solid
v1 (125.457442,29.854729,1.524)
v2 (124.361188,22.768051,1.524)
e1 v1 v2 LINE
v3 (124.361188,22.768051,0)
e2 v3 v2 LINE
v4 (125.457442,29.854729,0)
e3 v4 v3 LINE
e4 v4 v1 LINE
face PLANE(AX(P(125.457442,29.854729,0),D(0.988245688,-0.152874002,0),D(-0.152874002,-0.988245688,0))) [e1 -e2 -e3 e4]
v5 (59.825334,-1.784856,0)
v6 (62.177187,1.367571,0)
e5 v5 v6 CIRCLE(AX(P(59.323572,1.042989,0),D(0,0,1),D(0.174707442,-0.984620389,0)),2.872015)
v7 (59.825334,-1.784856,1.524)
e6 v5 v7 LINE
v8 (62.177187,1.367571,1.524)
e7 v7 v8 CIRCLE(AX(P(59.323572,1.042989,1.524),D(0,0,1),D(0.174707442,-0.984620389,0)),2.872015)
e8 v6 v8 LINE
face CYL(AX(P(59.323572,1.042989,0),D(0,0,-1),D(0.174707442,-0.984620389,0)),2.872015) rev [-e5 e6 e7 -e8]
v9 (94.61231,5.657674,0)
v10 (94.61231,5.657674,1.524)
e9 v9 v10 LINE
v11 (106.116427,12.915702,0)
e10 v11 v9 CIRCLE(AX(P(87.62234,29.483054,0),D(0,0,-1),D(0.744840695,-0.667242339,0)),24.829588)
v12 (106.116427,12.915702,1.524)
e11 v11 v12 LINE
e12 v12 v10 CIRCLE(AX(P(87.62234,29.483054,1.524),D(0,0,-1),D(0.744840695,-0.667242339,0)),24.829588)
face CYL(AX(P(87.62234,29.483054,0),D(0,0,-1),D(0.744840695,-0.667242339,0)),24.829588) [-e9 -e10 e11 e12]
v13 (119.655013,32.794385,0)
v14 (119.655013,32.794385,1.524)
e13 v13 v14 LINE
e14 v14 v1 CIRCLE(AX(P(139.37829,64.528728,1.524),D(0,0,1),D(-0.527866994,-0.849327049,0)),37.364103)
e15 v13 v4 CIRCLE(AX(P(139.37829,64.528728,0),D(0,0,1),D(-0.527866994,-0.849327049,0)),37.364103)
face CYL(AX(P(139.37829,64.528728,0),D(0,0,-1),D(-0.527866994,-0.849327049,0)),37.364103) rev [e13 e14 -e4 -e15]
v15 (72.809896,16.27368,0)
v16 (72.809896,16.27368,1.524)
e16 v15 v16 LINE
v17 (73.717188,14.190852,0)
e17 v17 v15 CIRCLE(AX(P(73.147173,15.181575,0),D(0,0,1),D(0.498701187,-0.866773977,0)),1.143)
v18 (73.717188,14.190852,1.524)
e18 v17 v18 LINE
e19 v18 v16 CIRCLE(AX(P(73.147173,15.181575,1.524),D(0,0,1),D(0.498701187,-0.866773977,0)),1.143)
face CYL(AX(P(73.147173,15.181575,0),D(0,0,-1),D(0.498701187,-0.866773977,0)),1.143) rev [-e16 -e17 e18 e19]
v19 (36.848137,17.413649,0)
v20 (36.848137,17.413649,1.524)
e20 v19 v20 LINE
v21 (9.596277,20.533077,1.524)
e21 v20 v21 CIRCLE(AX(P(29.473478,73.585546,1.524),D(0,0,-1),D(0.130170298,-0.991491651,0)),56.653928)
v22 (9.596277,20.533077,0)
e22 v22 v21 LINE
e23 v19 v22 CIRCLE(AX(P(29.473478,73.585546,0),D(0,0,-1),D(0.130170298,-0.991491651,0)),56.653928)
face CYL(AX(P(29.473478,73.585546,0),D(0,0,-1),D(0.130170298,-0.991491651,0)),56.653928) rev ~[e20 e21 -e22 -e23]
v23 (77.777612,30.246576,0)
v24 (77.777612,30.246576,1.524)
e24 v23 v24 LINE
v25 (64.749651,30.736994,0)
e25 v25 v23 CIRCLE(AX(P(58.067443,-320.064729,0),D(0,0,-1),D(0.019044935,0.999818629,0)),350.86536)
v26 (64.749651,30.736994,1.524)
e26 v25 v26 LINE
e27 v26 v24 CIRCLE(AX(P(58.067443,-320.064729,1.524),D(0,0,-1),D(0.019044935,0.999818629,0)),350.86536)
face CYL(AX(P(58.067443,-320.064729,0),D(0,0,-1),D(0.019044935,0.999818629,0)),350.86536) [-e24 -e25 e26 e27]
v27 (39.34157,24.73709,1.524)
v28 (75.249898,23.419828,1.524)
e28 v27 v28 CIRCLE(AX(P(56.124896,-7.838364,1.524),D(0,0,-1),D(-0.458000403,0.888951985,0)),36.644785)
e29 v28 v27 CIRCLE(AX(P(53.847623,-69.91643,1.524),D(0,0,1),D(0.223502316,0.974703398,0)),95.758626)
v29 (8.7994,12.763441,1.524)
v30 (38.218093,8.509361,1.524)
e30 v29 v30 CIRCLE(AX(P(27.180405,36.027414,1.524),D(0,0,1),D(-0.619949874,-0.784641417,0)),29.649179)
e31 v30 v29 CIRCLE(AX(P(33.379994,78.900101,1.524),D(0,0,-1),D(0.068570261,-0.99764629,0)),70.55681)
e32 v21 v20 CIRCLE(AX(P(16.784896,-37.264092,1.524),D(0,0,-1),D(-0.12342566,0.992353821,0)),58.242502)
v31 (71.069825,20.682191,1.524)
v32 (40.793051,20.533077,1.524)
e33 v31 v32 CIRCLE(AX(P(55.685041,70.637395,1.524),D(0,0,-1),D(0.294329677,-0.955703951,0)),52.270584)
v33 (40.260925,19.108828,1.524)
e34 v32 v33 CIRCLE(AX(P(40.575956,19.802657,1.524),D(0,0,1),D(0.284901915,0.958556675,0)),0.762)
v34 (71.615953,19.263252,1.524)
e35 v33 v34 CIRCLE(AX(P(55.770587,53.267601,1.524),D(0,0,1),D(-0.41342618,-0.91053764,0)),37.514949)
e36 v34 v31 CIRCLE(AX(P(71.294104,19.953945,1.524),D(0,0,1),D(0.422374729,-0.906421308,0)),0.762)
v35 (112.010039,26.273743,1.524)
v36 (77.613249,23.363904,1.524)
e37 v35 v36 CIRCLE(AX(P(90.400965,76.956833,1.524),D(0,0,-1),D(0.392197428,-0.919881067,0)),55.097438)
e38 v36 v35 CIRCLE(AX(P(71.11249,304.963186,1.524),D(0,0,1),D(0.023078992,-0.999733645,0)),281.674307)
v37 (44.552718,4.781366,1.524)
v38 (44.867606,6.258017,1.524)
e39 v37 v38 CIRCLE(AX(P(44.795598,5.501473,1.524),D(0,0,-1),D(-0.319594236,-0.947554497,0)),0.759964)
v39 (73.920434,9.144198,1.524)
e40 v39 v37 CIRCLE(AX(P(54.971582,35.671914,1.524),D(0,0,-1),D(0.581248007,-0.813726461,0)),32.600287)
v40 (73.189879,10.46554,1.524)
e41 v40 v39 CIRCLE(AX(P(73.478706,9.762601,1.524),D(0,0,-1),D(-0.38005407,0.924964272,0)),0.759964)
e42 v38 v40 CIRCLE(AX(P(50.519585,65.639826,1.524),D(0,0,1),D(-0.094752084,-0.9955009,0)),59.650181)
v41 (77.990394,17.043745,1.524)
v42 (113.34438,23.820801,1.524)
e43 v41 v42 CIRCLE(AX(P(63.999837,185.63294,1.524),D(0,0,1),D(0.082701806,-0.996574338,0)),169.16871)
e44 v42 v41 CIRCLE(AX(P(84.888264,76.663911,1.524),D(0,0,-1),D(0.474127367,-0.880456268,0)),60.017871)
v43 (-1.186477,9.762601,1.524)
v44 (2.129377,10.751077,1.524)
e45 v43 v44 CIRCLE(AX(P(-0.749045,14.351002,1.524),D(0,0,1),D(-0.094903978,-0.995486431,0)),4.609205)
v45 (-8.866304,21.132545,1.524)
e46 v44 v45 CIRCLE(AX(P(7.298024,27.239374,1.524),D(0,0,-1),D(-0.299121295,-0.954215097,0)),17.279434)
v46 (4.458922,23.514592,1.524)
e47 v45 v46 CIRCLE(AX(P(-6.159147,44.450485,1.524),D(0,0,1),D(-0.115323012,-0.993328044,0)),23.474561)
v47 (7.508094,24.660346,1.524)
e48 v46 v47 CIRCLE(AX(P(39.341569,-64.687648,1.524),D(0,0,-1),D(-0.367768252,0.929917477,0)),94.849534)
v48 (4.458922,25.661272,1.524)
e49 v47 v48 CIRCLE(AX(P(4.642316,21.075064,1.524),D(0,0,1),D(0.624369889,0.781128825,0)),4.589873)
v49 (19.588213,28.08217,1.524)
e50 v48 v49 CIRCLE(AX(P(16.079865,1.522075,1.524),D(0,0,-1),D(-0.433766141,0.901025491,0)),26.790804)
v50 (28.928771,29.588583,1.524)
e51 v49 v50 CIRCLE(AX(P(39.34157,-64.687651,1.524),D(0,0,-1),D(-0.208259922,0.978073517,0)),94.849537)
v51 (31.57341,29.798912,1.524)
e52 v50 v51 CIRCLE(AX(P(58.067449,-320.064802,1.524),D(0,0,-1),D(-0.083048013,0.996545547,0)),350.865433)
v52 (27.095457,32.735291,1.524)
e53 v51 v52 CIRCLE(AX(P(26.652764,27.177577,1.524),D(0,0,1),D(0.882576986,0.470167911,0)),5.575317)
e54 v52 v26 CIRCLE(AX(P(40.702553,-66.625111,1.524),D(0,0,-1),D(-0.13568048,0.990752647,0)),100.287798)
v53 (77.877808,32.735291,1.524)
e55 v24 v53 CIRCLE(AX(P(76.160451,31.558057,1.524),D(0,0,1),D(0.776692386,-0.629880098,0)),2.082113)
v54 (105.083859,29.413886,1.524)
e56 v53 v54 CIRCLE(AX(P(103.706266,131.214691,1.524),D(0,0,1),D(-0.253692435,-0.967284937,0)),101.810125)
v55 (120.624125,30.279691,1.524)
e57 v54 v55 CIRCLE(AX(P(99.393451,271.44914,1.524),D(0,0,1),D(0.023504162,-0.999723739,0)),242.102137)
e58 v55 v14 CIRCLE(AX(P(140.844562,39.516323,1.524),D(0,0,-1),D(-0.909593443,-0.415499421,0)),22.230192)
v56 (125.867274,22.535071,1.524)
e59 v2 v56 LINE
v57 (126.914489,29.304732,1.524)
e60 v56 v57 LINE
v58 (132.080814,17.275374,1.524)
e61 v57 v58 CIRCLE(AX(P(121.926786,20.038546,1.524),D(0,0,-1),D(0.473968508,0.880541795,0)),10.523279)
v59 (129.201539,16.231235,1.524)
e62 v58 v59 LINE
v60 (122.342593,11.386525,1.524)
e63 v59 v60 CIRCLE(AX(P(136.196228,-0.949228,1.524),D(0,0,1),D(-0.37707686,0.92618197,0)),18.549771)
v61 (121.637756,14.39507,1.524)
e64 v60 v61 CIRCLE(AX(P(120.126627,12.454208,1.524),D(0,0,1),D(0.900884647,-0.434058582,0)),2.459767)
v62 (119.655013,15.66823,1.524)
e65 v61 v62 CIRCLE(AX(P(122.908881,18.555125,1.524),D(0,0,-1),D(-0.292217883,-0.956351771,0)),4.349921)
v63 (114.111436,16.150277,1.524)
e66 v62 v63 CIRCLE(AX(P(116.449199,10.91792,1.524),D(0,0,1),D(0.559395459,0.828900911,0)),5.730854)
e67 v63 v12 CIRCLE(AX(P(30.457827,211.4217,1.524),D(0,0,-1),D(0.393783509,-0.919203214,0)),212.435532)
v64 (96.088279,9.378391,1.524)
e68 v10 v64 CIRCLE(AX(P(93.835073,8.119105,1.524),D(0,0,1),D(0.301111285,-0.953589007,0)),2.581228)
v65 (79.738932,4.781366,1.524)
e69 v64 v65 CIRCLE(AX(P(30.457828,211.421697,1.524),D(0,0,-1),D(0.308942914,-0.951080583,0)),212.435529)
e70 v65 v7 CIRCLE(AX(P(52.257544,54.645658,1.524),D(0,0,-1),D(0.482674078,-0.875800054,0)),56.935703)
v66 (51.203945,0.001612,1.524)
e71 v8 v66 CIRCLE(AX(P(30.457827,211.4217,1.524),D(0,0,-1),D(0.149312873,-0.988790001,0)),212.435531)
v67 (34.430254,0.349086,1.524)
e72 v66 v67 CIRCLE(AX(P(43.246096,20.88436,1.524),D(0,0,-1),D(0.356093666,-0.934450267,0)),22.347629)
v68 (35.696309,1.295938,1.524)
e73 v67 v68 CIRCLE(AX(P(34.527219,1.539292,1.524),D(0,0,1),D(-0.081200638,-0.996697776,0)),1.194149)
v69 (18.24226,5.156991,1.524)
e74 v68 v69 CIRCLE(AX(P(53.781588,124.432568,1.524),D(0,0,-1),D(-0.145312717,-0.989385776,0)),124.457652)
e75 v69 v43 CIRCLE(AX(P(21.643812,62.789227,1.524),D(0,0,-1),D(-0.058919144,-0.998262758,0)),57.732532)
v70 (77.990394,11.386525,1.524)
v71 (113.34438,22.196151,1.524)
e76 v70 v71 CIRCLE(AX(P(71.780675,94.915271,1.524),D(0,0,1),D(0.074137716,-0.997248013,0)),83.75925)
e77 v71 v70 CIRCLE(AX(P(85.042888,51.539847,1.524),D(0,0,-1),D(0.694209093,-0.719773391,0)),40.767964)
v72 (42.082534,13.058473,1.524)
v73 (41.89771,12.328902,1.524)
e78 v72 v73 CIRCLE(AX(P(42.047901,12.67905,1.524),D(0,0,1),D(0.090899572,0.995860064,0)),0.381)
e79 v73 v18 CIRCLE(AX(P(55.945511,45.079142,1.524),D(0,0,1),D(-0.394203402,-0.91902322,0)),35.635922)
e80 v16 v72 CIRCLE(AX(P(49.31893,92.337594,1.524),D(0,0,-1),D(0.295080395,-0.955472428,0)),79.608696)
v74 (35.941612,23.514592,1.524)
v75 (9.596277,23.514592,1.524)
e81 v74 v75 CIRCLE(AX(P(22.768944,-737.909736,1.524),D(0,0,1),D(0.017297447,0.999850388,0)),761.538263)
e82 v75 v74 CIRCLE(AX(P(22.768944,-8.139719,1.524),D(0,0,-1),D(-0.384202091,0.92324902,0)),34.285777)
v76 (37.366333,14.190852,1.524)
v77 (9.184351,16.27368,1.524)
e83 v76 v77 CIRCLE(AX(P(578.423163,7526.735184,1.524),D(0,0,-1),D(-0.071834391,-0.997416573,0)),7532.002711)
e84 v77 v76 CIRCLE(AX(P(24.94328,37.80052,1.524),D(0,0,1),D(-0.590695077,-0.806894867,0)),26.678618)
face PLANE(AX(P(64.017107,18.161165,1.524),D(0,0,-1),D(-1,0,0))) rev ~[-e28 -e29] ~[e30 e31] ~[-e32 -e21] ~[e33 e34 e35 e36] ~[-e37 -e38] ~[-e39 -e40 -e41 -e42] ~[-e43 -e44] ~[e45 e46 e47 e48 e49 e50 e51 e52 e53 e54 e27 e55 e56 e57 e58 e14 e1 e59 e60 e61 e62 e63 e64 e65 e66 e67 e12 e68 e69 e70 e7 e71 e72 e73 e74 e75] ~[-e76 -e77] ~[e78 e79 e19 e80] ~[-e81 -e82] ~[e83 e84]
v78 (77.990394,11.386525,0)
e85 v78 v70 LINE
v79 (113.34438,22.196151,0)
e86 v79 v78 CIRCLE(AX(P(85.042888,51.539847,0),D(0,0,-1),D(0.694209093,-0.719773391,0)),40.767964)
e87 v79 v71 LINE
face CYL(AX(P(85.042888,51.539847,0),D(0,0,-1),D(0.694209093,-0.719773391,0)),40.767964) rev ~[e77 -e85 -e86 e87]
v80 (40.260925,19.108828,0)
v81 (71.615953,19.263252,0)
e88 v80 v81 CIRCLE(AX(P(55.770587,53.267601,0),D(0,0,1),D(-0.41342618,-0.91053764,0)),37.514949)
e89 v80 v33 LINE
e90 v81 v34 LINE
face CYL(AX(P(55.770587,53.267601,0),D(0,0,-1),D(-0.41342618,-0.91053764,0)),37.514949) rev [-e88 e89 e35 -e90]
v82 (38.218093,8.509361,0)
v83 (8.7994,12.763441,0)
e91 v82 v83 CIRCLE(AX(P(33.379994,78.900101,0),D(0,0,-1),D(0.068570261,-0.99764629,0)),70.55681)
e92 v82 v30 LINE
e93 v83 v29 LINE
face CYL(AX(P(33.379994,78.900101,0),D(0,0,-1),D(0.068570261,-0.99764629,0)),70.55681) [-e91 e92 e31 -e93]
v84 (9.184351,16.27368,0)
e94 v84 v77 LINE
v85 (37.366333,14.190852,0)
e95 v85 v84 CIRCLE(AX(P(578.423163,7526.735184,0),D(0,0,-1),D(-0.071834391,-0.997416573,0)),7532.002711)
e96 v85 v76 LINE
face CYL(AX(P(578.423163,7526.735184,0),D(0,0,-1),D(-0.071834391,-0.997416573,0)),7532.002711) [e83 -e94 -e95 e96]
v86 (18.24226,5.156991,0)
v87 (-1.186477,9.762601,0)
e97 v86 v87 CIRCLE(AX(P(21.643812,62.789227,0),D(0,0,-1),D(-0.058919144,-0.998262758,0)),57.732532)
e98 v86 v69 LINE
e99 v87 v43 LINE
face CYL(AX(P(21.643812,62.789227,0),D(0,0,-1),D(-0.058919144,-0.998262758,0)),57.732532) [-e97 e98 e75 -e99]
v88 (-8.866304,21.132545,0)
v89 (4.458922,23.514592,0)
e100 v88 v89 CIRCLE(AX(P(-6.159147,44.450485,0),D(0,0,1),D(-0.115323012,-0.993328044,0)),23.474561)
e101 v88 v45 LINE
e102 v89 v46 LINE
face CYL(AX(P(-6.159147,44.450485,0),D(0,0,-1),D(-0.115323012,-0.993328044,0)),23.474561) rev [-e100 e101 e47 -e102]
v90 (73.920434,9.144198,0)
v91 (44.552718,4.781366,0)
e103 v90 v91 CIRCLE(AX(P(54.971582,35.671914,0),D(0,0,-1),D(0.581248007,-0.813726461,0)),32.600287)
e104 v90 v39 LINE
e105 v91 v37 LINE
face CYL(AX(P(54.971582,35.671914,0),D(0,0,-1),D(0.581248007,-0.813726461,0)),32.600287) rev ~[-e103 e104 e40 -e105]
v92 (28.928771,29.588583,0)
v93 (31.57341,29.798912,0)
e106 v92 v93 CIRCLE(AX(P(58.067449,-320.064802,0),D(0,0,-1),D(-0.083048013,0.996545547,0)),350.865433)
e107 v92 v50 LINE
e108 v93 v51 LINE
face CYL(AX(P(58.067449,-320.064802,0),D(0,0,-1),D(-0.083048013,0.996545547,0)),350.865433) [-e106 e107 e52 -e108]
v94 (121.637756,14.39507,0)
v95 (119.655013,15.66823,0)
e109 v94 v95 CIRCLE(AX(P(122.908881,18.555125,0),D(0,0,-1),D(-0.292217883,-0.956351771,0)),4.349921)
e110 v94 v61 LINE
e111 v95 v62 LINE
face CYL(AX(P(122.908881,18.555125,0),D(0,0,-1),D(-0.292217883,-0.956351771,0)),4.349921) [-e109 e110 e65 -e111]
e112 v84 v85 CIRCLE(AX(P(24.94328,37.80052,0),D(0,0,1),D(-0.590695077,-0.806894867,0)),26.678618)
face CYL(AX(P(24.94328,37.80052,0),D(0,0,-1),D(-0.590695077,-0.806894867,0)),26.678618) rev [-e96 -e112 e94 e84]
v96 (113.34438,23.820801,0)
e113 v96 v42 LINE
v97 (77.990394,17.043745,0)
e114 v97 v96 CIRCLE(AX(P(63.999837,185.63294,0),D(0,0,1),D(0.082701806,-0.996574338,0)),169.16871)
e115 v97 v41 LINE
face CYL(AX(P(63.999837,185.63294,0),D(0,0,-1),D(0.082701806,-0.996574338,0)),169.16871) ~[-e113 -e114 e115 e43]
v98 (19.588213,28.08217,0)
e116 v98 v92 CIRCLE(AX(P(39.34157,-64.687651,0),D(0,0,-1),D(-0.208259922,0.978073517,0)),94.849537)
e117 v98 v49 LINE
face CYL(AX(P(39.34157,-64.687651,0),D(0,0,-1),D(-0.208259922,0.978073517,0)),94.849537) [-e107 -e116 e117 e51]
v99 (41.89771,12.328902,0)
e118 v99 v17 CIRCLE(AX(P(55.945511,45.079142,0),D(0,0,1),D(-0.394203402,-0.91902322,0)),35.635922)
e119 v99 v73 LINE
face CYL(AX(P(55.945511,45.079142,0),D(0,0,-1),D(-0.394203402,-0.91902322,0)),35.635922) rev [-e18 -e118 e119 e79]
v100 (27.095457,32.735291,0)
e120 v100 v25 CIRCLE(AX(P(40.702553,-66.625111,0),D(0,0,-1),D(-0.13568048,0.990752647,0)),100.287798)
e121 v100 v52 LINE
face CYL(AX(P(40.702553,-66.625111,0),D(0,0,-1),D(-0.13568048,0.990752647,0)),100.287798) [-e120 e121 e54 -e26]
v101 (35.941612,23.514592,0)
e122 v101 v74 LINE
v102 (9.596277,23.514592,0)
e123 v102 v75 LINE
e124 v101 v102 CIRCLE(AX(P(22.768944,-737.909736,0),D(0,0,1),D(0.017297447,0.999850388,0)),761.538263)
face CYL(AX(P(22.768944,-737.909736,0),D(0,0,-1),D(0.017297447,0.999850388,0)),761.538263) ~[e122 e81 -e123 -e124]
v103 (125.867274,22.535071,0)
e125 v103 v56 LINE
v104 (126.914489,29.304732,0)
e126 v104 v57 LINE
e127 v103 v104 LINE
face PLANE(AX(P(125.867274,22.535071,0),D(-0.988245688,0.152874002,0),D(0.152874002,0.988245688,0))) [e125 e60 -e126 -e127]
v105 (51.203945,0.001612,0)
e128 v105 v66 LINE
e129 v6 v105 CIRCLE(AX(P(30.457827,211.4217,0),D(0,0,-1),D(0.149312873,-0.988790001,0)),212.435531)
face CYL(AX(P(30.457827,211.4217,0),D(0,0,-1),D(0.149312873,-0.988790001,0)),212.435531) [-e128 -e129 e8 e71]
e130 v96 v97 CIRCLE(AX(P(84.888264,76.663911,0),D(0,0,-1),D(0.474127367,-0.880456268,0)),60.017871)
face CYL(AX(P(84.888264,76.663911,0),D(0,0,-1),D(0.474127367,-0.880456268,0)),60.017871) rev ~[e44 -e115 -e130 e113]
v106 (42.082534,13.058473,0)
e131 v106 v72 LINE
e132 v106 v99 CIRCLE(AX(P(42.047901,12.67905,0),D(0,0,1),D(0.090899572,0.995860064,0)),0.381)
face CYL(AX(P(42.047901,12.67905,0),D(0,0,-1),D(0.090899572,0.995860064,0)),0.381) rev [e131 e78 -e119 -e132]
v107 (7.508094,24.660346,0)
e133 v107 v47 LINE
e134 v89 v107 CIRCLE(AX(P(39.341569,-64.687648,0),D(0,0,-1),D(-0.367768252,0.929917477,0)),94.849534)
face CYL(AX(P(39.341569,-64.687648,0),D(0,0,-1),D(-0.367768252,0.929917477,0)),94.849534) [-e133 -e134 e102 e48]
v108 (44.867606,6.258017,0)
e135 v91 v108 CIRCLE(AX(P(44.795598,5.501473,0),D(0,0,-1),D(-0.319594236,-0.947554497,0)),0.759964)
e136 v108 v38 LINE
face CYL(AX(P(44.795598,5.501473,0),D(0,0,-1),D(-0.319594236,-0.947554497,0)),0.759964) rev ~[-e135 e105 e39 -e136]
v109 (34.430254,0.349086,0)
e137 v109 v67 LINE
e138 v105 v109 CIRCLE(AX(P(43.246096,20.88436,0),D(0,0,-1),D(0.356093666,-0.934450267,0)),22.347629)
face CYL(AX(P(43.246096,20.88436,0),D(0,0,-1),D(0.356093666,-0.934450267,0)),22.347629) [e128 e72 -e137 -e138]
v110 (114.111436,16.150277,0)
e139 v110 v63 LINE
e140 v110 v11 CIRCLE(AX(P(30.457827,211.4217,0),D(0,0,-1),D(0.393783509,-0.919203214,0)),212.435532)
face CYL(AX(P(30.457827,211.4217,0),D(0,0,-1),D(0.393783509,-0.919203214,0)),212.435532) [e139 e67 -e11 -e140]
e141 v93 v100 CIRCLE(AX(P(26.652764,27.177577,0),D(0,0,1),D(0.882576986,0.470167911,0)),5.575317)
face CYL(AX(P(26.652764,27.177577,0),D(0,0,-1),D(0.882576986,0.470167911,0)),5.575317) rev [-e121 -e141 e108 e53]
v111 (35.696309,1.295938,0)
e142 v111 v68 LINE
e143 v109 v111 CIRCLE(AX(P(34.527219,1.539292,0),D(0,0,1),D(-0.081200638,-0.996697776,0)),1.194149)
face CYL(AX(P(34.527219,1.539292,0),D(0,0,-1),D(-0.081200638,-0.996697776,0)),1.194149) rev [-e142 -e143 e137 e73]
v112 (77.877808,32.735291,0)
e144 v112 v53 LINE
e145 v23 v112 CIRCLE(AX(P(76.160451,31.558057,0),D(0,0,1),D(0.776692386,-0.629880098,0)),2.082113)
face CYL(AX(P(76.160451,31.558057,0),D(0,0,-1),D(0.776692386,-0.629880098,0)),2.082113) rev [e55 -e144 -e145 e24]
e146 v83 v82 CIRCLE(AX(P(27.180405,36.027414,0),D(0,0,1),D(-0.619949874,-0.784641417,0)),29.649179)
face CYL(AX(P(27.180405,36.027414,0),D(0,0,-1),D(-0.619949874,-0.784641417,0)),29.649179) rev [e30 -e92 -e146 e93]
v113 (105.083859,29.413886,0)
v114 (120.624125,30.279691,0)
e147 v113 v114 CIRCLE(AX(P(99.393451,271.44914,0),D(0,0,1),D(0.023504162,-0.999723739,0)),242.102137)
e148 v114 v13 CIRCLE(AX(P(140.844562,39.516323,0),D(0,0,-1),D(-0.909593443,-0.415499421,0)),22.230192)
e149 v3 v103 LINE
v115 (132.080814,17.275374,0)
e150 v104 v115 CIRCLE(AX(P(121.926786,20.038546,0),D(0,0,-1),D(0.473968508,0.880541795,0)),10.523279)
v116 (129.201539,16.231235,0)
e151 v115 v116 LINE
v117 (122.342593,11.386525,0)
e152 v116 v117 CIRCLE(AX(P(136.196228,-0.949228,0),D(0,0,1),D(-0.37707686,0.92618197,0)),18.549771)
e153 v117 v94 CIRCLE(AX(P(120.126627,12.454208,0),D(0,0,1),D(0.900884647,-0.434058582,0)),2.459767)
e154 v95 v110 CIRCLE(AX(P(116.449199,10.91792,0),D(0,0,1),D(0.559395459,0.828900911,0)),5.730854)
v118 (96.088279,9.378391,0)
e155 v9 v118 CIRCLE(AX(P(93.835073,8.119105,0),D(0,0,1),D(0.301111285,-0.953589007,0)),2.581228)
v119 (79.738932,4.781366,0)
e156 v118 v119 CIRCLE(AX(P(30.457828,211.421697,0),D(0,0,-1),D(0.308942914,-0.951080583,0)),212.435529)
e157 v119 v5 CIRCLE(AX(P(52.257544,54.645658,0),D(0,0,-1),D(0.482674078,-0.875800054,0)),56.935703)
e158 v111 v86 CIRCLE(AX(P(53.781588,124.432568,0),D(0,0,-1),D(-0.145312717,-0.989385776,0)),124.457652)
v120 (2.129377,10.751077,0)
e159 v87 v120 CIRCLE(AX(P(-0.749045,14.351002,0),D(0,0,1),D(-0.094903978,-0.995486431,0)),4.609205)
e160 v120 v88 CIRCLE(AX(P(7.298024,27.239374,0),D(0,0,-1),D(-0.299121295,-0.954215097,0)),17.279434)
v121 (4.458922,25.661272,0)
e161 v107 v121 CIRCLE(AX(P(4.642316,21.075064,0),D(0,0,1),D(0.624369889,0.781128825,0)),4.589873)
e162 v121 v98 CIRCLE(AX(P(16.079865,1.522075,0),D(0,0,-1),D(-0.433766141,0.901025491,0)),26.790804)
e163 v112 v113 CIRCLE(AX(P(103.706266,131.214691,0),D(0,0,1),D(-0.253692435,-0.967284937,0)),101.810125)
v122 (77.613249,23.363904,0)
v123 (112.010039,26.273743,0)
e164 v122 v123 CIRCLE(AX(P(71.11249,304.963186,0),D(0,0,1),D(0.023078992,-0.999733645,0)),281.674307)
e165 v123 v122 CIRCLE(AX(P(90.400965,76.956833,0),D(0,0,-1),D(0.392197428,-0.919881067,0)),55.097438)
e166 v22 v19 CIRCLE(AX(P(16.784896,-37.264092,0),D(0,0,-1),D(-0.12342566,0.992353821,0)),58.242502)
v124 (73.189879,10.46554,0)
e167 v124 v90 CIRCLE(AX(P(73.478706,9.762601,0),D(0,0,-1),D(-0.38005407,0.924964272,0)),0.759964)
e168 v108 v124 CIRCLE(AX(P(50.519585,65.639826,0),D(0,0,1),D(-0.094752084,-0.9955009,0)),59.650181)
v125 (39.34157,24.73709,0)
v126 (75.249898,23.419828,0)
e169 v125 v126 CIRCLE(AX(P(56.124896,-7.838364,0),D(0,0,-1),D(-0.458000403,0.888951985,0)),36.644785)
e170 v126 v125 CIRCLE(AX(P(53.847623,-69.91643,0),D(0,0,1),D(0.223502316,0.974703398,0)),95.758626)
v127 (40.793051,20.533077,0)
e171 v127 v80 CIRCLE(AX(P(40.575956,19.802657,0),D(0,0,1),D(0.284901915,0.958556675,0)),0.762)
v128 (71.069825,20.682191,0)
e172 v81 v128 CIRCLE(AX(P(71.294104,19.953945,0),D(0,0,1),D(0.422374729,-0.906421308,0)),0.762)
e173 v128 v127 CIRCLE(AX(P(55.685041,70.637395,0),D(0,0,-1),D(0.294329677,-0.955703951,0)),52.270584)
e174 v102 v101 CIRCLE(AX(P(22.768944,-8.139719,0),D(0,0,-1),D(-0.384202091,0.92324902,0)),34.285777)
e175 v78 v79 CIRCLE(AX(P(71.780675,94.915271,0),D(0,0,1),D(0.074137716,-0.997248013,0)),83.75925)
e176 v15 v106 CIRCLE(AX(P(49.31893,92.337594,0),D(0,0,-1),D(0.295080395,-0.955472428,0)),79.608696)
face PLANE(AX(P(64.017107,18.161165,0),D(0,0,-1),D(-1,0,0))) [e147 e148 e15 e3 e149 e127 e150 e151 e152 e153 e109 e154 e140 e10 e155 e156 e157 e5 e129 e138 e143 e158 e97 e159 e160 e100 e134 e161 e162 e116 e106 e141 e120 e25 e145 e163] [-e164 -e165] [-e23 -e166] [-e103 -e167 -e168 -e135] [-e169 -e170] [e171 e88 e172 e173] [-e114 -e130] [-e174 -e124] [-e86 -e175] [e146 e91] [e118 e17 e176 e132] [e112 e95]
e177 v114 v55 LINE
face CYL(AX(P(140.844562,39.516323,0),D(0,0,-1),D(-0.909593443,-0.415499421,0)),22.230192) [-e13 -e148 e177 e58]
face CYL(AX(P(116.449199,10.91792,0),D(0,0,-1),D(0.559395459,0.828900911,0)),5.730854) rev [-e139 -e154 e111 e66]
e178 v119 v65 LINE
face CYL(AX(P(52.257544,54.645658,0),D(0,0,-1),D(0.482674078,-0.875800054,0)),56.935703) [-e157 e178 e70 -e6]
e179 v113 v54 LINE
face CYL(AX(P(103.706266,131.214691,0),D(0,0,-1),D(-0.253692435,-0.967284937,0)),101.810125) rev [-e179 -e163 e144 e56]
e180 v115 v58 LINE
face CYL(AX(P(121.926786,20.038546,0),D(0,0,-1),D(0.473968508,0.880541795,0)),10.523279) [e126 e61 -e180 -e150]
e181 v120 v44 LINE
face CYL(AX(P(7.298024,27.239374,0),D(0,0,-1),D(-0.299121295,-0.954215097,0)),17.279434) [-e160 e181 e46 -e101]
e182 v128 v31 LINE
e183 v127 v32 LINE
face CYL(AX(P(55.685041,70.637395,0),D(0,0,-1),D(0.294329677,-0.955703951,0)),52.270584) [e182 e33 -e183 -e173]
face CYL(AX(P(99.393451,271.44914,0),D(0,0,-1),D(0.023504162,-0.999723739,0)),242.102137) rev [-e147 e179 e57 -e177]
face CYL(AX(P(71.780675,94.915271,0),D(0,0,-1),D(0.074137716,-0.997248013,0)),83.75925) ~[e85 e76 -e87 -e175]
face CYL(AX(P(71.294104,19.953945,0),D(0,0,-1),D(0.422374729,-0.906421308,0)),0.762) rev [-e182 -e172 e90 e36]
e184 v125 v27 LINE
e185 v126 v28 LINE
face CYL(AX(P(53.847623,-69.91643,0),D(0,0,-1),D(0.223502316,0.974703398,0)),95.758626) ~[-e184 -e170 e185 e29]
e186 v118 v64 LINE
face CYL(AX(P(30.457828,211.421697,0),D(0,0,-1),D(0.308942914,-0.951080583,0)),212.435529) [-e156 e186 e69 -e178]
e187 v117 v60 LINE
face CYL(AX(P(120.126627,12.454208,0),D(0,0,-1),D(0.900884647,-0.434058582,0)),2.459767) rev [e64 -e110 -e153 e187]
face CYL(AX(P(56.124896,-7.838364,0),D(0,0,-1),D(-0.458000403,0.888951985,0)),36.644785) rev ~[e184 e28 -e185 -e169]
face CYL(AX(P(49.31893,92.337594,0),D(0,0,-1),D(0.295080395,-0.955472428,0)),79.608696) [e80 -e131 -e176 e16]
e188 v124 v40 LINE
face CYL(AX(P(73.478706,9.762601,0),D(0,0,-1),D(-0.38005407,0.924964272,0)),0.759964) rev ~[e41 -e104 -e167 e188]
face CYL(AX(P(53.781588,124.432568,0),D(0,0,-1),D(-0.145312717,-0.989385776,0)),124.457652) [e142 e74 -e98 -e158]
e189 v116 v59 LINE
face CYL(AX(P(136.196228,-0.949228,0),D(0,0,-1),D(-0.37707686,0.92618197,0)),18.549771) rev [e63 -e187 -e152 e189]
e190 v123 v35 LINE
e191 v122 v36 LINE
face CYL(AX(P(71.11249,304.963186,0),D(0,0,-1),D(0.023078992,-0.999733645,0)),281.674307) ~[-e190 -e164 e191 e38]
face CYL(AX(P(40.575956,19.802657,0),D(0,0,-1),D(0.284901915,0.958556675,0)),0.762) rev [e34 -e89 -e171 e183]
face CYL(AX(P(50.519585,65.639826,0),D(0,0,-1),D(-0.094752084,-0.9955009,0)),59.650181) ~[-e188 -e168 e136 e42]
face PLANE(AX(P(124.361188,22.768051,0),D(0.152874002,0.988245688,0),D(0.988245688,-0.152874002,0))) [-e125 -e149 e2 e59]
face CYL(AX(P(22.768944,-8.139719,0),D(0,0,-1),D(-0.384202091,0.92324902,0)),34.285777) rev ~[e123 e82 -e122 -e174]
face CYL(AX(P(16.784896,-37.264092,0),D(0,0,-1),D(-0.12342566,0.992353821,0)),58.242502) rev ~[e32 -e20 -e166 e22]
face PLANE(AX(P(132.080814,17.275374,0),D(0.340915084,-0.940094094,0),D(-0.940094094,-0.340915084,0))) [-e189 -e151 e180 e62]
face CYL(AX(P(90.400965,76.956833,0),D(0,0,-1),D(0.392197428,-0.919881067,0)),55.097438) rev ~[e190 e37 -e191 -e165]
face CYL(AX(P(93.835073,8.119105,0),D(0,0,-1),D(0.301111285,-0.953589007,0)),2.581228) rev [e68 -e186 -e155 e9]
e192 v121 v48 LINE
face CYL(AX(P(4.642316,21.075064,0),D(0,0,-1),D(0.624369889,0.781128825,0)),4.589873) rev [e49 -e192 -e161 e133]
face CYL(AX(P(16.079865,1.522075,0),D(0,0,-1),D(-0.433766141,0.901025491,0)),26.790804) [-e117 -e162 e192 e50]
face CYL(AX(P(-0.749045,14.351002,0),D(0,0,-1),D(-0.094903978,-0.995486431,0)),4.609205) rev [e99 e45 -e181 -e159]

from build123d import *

# Parameters (mm, degrees)
BOSS_EXTRUDE1_DEPTH = 1.524


with BuildPart() as part:
    # Model → Boss-Extrude1 (new body)
    with BuildSketch(Plane.XY):
        with BuildLine():
            Line((125.457442265, 29.854729058), (124.36118777, 22.768051361))
            Line((124.36118777, 22.768051361), (125.867274198, 22.535071382))
            Line((125.867274198, 22.535071382), (126.914488667, 29.304732487))
            ThreePointArc((126.914488667, 29.304732487), (131.596034511, 24.191259053), (132.080813549, 17.27537362))
            Line((132.080813549, 17.27537362), (129.201538518, 16.231235276))
            ThreePointArc((129.201538518, 16.231235276), (125.494314224, 14.202109959), (122.342593367, 11.386525267))
            ThreePointArc((122.342593367, 11.386525267), (122.521547644, 13.015286897), (121.637755911, 14.395069943))
            ThreePointArc((121.637755911, 14.395069943), (120.558535261, 14.894839146), (119.655012959, 15.668230327))
            ThreePointArc((119.655012959, 15.668230327), (116.945656671, 16.627230011), (114.111435919, 16.150276533))
            ThreePointArc((114.111435919, 16.150276533), (110.130348083, 14.492411945), (106.116427247, 12.915701804))
            ThreePointArc((106.116427247, 12.915701804), (100.871077069, 8.483544727), (94.612309809, 5.65767367))
            ThreePointArc((94.612309809, 5.65767367), (96.234412345, 7.167311858), (96.088279041, 9.378390589))
            ThreePointArc((96.088279041, 9.378390589), (87.959563224, 6.916430033), (79.738932416, 4.781365698))
            ThreePointArc((79.738932416, 4.781365698), (70.087015382, 0.573629162), (59.825334355, -1.784855875))
            ThreePointArc((59.825334355, -1.784855875), (61.625546567, -0.674388225), (62.177186804, 1.367570505))
            ThreePointArc((62.177186804, 1.367570505), (56.69945513, 0.613180121), (51.20394484, 0.001611808))
            ThreePointArc((51.20394484, 0.001611808), (42.783253785, -1.45847583), (34.430253575, 0.349086412))
            ThreePointArc((34.430253575, 0.349086412), (35.242407465, 0.582998344), (35.696308866, 1.295937508))
            ThreePointArc((35.696308866, 1.295937508), (26.899874012, 2.912690878), (18.24226034, 5.156991018))
            ThreePointArc((18.24226034, 5.156991018), (8.327270493, 6.613476825), (-1.186477097, 9.762600728))
            ThreePointArc((-1.186477097, 9.762600728), (0.567723509, 9.933888345), (2.129376981, 10.751077214))
            ThreePointArc((2.129376981, 10.751077214), (-4.564424076, 14.67509235), (-8.866303828, 21.132545253))
            ThreePointArc((-8.866303828, 21.132545253), (-2.028267146, 21.342243043), (4.458921798, 23.51459164))
            ThreePointArc((4.458921798, 23.51459164), (5.978589155, 24.100559155), (7.508094135, 24.660346004))
            ThreePointArc((7.508094135, 24.660346004), (6.073839254, 25.435989759), (4.458921798, 25.661271599))
            ThreePointArc((4.458921798, 25.661271599), (11.846812063, 27.976344953), (19.588212991, 28.082169784))
            ThreePointArc((19.588212991, 28.082169784), (24.23969735, 28.951914388), (28.92877134, 29.588583491))
            ThreePointArc((28.92877134, 29.588583491), (30.250891965, 29.696247396), (31.57341018, 29.798912074))
            ThreePointArc((31.57341018, 29.798912074), (29.710039, 31.839896858), (27.095456614, 32.73529062))
            ThreePointArc((27.095456614, 32.73529062), (46.017315853, 33.521760077), (64.749650783, 30.73699449))
            ThreePointArc((64.749650783, 30.73699449), (71.265909378, 30.552300799), (77.77761193, 30.246575893))
            ThreePointArc((77.77761193, 30.246575893), (78.240878226, 31.474299031), (77.877808016, 32.73529062))
            ThreePointArc((77.877808016, 32.73529062), (91.368554355, 30.154894712), (105.083859187, 29.413886469))
            ThreePointArc((105.083859187, 29.413886469), (112.860951548, 29.721873992), (120.624125013, 30.279690879))
            ThreePointArc((120.624125013, 30.279690879), (120.101426826, 31.522338532), (119.655012959, 32.794384617))
            ThreePointArc((119.655012959, 32.794384617), (122.492136598, 31.198051004), (125.457442265, 29.854729058))
        make_face()
        with BuildLine():
            ThreePointArc((113.344379689, 22.19615093), (96.963122218, 12.553503985), (77.990394499, 11.386525267))
            ThreePointArc((77.990394499, 11.386525267), (96.271224533, 14.816426058), (113.344379689, 22.19615093))
        make_face(mode=Mode.SUBTRACT)
        with BuildLine():
            ThreePointArc((113.344379689, 23.82080051), (96.187450512, 17.719248724), (77.990394499, 17.043744891))
            ThreePointArc((77.990394499, 17.043744891), (95.848162694, 19.489217449), (113.344379689, 23.82080051))
        make_face(mode=Mode.SUBTRACT)
        with BuildLine():
            ThreePointArc((112.010038699, 26.273742515), (95.04541072, 22.055495603), (77.613248587, 23.363904105))
            ThreePointArc((77.613248587, 23.363904105), (94.856261251, 24.29140484), (112.010038699, 26.273742515))
        make_face(mode=Mode.SUBTRACT)
        with BuildLine():
            ThreePointArc((73.920433764, 9.144198092), (59.762067232, 3.425519676), (44.552717894, 4.781365698))
            ThreePointArc((44.552717894, 4.781365698), (44.052345371, 5.659967485), (44.86760609, 6.258017419))
            ThreePointArc((44.86760609, 6.258017419), (59.284947166, 6.637177896), (73.189879005, 10.465540071))
            ThreePointArc((73.189879005, 10.465540071), (74.143785851, 10.130315533), (73.920433764, 9.144198092))
        make_face(mode=Mode.SUBTRACT)
        with BuildLine():
            ThreePointArc((73.7171882, 14.19085222), (74.195068041, 15.63804442), (72.809895852, 16.27367986))
            ThreePointArc((72.809895852, 16.27367986), (57.603683966, 13.161162203), (42.082533848, 13.058472776))
            ThreePointArc((42.082533848, 13.058472776), (41.678568271, 12.772614258), (41.897709615, 12.328902245))
            ThreePointArc((41.897709615, 12.328902245), (58.027223609, 9.504074716), (73.7171882, 14.19085222))
        make_face(mode=Mode.SUBTRACT)
        with BuildLine():
            ThreePointArc((71.615953494, 19.263251529), (72.005249, 20.227653753), (71.069824737, 20.682190977))
            ThreePointArc((71.069824737, 20.682190977), (55.942470801, 18.367444511), (40.793050931, 20.533077418))
            ThreePointArc((40.793050931, 20.533077418), (39.862149142, 20.069348511), (40.260924923, 19.10882755))
            ThreePointArc((40.260924923, 19.10882755), (55.955346454, 15.753106638), (71.615953494, 19.263251529))
        make_face(mode=Mode.SUBTRACT)
        with BuildLine():
            ThreePointArc((75.249897816, 23.419828185), (57.358073705, 25.777828917), (39.34157015, 24.737090166))
            ThreePointArc((39.34157015, 24.737090166), (57.468271047, 28.781788902), (75.249897816, 23.419828185))
        make_face(mode=Mode.SUBTRACT)
        with BuildLine():
            ThreePointArc((38.218093055, 8.509361046), (23.282181122, 9.069608784), (8.79939997, 12.763440518))
            ThreePointArc((8.79939997, 12.763440518), (22.937130999, 6.683446576), (38.218093055, 8.509361046))
        make_face(mode=Mode.SUBTRACT)
        with BuildLine():
            ThreePointArc((37.366333435, 14.19085222), (23.274365612, 15.219049254), (9.184351398, 16.27367986))
            ThreePointArc((9.184351398, 16.27367986), (22.976923316, 11.194465897), (37.366333435, 14.19085222))
        make_face(mode=Mode.SUBTRACT)
        with BuildLine():
            ThreePointArc((36.84813704, 17.413649418), (23.030567399, 17.299167045), (9.596276919, 20.533077418))
            ThreePointArc((9.596276919, 20.533077418), (23.40846607, 20.600554903), (36.84813704, 17.413649418))
        make_face(mode=Mode.SUBTRACT)
        with BuildLine():
            ThreePointArc((35.94161169, 23.51459164), (22.768944305, 23.628526918), (9.596276919, 23.51459164))
            ThreePointArc((9.596276919, 23.51459164), (22.768944305, 26.146058656), (35.94161169, 23.51459164))
        make_face(mode=Mode.SUBTRACT)
    extrude(amount=BOSS_EXTRUDE1_DEPTH)


solid = part.part
